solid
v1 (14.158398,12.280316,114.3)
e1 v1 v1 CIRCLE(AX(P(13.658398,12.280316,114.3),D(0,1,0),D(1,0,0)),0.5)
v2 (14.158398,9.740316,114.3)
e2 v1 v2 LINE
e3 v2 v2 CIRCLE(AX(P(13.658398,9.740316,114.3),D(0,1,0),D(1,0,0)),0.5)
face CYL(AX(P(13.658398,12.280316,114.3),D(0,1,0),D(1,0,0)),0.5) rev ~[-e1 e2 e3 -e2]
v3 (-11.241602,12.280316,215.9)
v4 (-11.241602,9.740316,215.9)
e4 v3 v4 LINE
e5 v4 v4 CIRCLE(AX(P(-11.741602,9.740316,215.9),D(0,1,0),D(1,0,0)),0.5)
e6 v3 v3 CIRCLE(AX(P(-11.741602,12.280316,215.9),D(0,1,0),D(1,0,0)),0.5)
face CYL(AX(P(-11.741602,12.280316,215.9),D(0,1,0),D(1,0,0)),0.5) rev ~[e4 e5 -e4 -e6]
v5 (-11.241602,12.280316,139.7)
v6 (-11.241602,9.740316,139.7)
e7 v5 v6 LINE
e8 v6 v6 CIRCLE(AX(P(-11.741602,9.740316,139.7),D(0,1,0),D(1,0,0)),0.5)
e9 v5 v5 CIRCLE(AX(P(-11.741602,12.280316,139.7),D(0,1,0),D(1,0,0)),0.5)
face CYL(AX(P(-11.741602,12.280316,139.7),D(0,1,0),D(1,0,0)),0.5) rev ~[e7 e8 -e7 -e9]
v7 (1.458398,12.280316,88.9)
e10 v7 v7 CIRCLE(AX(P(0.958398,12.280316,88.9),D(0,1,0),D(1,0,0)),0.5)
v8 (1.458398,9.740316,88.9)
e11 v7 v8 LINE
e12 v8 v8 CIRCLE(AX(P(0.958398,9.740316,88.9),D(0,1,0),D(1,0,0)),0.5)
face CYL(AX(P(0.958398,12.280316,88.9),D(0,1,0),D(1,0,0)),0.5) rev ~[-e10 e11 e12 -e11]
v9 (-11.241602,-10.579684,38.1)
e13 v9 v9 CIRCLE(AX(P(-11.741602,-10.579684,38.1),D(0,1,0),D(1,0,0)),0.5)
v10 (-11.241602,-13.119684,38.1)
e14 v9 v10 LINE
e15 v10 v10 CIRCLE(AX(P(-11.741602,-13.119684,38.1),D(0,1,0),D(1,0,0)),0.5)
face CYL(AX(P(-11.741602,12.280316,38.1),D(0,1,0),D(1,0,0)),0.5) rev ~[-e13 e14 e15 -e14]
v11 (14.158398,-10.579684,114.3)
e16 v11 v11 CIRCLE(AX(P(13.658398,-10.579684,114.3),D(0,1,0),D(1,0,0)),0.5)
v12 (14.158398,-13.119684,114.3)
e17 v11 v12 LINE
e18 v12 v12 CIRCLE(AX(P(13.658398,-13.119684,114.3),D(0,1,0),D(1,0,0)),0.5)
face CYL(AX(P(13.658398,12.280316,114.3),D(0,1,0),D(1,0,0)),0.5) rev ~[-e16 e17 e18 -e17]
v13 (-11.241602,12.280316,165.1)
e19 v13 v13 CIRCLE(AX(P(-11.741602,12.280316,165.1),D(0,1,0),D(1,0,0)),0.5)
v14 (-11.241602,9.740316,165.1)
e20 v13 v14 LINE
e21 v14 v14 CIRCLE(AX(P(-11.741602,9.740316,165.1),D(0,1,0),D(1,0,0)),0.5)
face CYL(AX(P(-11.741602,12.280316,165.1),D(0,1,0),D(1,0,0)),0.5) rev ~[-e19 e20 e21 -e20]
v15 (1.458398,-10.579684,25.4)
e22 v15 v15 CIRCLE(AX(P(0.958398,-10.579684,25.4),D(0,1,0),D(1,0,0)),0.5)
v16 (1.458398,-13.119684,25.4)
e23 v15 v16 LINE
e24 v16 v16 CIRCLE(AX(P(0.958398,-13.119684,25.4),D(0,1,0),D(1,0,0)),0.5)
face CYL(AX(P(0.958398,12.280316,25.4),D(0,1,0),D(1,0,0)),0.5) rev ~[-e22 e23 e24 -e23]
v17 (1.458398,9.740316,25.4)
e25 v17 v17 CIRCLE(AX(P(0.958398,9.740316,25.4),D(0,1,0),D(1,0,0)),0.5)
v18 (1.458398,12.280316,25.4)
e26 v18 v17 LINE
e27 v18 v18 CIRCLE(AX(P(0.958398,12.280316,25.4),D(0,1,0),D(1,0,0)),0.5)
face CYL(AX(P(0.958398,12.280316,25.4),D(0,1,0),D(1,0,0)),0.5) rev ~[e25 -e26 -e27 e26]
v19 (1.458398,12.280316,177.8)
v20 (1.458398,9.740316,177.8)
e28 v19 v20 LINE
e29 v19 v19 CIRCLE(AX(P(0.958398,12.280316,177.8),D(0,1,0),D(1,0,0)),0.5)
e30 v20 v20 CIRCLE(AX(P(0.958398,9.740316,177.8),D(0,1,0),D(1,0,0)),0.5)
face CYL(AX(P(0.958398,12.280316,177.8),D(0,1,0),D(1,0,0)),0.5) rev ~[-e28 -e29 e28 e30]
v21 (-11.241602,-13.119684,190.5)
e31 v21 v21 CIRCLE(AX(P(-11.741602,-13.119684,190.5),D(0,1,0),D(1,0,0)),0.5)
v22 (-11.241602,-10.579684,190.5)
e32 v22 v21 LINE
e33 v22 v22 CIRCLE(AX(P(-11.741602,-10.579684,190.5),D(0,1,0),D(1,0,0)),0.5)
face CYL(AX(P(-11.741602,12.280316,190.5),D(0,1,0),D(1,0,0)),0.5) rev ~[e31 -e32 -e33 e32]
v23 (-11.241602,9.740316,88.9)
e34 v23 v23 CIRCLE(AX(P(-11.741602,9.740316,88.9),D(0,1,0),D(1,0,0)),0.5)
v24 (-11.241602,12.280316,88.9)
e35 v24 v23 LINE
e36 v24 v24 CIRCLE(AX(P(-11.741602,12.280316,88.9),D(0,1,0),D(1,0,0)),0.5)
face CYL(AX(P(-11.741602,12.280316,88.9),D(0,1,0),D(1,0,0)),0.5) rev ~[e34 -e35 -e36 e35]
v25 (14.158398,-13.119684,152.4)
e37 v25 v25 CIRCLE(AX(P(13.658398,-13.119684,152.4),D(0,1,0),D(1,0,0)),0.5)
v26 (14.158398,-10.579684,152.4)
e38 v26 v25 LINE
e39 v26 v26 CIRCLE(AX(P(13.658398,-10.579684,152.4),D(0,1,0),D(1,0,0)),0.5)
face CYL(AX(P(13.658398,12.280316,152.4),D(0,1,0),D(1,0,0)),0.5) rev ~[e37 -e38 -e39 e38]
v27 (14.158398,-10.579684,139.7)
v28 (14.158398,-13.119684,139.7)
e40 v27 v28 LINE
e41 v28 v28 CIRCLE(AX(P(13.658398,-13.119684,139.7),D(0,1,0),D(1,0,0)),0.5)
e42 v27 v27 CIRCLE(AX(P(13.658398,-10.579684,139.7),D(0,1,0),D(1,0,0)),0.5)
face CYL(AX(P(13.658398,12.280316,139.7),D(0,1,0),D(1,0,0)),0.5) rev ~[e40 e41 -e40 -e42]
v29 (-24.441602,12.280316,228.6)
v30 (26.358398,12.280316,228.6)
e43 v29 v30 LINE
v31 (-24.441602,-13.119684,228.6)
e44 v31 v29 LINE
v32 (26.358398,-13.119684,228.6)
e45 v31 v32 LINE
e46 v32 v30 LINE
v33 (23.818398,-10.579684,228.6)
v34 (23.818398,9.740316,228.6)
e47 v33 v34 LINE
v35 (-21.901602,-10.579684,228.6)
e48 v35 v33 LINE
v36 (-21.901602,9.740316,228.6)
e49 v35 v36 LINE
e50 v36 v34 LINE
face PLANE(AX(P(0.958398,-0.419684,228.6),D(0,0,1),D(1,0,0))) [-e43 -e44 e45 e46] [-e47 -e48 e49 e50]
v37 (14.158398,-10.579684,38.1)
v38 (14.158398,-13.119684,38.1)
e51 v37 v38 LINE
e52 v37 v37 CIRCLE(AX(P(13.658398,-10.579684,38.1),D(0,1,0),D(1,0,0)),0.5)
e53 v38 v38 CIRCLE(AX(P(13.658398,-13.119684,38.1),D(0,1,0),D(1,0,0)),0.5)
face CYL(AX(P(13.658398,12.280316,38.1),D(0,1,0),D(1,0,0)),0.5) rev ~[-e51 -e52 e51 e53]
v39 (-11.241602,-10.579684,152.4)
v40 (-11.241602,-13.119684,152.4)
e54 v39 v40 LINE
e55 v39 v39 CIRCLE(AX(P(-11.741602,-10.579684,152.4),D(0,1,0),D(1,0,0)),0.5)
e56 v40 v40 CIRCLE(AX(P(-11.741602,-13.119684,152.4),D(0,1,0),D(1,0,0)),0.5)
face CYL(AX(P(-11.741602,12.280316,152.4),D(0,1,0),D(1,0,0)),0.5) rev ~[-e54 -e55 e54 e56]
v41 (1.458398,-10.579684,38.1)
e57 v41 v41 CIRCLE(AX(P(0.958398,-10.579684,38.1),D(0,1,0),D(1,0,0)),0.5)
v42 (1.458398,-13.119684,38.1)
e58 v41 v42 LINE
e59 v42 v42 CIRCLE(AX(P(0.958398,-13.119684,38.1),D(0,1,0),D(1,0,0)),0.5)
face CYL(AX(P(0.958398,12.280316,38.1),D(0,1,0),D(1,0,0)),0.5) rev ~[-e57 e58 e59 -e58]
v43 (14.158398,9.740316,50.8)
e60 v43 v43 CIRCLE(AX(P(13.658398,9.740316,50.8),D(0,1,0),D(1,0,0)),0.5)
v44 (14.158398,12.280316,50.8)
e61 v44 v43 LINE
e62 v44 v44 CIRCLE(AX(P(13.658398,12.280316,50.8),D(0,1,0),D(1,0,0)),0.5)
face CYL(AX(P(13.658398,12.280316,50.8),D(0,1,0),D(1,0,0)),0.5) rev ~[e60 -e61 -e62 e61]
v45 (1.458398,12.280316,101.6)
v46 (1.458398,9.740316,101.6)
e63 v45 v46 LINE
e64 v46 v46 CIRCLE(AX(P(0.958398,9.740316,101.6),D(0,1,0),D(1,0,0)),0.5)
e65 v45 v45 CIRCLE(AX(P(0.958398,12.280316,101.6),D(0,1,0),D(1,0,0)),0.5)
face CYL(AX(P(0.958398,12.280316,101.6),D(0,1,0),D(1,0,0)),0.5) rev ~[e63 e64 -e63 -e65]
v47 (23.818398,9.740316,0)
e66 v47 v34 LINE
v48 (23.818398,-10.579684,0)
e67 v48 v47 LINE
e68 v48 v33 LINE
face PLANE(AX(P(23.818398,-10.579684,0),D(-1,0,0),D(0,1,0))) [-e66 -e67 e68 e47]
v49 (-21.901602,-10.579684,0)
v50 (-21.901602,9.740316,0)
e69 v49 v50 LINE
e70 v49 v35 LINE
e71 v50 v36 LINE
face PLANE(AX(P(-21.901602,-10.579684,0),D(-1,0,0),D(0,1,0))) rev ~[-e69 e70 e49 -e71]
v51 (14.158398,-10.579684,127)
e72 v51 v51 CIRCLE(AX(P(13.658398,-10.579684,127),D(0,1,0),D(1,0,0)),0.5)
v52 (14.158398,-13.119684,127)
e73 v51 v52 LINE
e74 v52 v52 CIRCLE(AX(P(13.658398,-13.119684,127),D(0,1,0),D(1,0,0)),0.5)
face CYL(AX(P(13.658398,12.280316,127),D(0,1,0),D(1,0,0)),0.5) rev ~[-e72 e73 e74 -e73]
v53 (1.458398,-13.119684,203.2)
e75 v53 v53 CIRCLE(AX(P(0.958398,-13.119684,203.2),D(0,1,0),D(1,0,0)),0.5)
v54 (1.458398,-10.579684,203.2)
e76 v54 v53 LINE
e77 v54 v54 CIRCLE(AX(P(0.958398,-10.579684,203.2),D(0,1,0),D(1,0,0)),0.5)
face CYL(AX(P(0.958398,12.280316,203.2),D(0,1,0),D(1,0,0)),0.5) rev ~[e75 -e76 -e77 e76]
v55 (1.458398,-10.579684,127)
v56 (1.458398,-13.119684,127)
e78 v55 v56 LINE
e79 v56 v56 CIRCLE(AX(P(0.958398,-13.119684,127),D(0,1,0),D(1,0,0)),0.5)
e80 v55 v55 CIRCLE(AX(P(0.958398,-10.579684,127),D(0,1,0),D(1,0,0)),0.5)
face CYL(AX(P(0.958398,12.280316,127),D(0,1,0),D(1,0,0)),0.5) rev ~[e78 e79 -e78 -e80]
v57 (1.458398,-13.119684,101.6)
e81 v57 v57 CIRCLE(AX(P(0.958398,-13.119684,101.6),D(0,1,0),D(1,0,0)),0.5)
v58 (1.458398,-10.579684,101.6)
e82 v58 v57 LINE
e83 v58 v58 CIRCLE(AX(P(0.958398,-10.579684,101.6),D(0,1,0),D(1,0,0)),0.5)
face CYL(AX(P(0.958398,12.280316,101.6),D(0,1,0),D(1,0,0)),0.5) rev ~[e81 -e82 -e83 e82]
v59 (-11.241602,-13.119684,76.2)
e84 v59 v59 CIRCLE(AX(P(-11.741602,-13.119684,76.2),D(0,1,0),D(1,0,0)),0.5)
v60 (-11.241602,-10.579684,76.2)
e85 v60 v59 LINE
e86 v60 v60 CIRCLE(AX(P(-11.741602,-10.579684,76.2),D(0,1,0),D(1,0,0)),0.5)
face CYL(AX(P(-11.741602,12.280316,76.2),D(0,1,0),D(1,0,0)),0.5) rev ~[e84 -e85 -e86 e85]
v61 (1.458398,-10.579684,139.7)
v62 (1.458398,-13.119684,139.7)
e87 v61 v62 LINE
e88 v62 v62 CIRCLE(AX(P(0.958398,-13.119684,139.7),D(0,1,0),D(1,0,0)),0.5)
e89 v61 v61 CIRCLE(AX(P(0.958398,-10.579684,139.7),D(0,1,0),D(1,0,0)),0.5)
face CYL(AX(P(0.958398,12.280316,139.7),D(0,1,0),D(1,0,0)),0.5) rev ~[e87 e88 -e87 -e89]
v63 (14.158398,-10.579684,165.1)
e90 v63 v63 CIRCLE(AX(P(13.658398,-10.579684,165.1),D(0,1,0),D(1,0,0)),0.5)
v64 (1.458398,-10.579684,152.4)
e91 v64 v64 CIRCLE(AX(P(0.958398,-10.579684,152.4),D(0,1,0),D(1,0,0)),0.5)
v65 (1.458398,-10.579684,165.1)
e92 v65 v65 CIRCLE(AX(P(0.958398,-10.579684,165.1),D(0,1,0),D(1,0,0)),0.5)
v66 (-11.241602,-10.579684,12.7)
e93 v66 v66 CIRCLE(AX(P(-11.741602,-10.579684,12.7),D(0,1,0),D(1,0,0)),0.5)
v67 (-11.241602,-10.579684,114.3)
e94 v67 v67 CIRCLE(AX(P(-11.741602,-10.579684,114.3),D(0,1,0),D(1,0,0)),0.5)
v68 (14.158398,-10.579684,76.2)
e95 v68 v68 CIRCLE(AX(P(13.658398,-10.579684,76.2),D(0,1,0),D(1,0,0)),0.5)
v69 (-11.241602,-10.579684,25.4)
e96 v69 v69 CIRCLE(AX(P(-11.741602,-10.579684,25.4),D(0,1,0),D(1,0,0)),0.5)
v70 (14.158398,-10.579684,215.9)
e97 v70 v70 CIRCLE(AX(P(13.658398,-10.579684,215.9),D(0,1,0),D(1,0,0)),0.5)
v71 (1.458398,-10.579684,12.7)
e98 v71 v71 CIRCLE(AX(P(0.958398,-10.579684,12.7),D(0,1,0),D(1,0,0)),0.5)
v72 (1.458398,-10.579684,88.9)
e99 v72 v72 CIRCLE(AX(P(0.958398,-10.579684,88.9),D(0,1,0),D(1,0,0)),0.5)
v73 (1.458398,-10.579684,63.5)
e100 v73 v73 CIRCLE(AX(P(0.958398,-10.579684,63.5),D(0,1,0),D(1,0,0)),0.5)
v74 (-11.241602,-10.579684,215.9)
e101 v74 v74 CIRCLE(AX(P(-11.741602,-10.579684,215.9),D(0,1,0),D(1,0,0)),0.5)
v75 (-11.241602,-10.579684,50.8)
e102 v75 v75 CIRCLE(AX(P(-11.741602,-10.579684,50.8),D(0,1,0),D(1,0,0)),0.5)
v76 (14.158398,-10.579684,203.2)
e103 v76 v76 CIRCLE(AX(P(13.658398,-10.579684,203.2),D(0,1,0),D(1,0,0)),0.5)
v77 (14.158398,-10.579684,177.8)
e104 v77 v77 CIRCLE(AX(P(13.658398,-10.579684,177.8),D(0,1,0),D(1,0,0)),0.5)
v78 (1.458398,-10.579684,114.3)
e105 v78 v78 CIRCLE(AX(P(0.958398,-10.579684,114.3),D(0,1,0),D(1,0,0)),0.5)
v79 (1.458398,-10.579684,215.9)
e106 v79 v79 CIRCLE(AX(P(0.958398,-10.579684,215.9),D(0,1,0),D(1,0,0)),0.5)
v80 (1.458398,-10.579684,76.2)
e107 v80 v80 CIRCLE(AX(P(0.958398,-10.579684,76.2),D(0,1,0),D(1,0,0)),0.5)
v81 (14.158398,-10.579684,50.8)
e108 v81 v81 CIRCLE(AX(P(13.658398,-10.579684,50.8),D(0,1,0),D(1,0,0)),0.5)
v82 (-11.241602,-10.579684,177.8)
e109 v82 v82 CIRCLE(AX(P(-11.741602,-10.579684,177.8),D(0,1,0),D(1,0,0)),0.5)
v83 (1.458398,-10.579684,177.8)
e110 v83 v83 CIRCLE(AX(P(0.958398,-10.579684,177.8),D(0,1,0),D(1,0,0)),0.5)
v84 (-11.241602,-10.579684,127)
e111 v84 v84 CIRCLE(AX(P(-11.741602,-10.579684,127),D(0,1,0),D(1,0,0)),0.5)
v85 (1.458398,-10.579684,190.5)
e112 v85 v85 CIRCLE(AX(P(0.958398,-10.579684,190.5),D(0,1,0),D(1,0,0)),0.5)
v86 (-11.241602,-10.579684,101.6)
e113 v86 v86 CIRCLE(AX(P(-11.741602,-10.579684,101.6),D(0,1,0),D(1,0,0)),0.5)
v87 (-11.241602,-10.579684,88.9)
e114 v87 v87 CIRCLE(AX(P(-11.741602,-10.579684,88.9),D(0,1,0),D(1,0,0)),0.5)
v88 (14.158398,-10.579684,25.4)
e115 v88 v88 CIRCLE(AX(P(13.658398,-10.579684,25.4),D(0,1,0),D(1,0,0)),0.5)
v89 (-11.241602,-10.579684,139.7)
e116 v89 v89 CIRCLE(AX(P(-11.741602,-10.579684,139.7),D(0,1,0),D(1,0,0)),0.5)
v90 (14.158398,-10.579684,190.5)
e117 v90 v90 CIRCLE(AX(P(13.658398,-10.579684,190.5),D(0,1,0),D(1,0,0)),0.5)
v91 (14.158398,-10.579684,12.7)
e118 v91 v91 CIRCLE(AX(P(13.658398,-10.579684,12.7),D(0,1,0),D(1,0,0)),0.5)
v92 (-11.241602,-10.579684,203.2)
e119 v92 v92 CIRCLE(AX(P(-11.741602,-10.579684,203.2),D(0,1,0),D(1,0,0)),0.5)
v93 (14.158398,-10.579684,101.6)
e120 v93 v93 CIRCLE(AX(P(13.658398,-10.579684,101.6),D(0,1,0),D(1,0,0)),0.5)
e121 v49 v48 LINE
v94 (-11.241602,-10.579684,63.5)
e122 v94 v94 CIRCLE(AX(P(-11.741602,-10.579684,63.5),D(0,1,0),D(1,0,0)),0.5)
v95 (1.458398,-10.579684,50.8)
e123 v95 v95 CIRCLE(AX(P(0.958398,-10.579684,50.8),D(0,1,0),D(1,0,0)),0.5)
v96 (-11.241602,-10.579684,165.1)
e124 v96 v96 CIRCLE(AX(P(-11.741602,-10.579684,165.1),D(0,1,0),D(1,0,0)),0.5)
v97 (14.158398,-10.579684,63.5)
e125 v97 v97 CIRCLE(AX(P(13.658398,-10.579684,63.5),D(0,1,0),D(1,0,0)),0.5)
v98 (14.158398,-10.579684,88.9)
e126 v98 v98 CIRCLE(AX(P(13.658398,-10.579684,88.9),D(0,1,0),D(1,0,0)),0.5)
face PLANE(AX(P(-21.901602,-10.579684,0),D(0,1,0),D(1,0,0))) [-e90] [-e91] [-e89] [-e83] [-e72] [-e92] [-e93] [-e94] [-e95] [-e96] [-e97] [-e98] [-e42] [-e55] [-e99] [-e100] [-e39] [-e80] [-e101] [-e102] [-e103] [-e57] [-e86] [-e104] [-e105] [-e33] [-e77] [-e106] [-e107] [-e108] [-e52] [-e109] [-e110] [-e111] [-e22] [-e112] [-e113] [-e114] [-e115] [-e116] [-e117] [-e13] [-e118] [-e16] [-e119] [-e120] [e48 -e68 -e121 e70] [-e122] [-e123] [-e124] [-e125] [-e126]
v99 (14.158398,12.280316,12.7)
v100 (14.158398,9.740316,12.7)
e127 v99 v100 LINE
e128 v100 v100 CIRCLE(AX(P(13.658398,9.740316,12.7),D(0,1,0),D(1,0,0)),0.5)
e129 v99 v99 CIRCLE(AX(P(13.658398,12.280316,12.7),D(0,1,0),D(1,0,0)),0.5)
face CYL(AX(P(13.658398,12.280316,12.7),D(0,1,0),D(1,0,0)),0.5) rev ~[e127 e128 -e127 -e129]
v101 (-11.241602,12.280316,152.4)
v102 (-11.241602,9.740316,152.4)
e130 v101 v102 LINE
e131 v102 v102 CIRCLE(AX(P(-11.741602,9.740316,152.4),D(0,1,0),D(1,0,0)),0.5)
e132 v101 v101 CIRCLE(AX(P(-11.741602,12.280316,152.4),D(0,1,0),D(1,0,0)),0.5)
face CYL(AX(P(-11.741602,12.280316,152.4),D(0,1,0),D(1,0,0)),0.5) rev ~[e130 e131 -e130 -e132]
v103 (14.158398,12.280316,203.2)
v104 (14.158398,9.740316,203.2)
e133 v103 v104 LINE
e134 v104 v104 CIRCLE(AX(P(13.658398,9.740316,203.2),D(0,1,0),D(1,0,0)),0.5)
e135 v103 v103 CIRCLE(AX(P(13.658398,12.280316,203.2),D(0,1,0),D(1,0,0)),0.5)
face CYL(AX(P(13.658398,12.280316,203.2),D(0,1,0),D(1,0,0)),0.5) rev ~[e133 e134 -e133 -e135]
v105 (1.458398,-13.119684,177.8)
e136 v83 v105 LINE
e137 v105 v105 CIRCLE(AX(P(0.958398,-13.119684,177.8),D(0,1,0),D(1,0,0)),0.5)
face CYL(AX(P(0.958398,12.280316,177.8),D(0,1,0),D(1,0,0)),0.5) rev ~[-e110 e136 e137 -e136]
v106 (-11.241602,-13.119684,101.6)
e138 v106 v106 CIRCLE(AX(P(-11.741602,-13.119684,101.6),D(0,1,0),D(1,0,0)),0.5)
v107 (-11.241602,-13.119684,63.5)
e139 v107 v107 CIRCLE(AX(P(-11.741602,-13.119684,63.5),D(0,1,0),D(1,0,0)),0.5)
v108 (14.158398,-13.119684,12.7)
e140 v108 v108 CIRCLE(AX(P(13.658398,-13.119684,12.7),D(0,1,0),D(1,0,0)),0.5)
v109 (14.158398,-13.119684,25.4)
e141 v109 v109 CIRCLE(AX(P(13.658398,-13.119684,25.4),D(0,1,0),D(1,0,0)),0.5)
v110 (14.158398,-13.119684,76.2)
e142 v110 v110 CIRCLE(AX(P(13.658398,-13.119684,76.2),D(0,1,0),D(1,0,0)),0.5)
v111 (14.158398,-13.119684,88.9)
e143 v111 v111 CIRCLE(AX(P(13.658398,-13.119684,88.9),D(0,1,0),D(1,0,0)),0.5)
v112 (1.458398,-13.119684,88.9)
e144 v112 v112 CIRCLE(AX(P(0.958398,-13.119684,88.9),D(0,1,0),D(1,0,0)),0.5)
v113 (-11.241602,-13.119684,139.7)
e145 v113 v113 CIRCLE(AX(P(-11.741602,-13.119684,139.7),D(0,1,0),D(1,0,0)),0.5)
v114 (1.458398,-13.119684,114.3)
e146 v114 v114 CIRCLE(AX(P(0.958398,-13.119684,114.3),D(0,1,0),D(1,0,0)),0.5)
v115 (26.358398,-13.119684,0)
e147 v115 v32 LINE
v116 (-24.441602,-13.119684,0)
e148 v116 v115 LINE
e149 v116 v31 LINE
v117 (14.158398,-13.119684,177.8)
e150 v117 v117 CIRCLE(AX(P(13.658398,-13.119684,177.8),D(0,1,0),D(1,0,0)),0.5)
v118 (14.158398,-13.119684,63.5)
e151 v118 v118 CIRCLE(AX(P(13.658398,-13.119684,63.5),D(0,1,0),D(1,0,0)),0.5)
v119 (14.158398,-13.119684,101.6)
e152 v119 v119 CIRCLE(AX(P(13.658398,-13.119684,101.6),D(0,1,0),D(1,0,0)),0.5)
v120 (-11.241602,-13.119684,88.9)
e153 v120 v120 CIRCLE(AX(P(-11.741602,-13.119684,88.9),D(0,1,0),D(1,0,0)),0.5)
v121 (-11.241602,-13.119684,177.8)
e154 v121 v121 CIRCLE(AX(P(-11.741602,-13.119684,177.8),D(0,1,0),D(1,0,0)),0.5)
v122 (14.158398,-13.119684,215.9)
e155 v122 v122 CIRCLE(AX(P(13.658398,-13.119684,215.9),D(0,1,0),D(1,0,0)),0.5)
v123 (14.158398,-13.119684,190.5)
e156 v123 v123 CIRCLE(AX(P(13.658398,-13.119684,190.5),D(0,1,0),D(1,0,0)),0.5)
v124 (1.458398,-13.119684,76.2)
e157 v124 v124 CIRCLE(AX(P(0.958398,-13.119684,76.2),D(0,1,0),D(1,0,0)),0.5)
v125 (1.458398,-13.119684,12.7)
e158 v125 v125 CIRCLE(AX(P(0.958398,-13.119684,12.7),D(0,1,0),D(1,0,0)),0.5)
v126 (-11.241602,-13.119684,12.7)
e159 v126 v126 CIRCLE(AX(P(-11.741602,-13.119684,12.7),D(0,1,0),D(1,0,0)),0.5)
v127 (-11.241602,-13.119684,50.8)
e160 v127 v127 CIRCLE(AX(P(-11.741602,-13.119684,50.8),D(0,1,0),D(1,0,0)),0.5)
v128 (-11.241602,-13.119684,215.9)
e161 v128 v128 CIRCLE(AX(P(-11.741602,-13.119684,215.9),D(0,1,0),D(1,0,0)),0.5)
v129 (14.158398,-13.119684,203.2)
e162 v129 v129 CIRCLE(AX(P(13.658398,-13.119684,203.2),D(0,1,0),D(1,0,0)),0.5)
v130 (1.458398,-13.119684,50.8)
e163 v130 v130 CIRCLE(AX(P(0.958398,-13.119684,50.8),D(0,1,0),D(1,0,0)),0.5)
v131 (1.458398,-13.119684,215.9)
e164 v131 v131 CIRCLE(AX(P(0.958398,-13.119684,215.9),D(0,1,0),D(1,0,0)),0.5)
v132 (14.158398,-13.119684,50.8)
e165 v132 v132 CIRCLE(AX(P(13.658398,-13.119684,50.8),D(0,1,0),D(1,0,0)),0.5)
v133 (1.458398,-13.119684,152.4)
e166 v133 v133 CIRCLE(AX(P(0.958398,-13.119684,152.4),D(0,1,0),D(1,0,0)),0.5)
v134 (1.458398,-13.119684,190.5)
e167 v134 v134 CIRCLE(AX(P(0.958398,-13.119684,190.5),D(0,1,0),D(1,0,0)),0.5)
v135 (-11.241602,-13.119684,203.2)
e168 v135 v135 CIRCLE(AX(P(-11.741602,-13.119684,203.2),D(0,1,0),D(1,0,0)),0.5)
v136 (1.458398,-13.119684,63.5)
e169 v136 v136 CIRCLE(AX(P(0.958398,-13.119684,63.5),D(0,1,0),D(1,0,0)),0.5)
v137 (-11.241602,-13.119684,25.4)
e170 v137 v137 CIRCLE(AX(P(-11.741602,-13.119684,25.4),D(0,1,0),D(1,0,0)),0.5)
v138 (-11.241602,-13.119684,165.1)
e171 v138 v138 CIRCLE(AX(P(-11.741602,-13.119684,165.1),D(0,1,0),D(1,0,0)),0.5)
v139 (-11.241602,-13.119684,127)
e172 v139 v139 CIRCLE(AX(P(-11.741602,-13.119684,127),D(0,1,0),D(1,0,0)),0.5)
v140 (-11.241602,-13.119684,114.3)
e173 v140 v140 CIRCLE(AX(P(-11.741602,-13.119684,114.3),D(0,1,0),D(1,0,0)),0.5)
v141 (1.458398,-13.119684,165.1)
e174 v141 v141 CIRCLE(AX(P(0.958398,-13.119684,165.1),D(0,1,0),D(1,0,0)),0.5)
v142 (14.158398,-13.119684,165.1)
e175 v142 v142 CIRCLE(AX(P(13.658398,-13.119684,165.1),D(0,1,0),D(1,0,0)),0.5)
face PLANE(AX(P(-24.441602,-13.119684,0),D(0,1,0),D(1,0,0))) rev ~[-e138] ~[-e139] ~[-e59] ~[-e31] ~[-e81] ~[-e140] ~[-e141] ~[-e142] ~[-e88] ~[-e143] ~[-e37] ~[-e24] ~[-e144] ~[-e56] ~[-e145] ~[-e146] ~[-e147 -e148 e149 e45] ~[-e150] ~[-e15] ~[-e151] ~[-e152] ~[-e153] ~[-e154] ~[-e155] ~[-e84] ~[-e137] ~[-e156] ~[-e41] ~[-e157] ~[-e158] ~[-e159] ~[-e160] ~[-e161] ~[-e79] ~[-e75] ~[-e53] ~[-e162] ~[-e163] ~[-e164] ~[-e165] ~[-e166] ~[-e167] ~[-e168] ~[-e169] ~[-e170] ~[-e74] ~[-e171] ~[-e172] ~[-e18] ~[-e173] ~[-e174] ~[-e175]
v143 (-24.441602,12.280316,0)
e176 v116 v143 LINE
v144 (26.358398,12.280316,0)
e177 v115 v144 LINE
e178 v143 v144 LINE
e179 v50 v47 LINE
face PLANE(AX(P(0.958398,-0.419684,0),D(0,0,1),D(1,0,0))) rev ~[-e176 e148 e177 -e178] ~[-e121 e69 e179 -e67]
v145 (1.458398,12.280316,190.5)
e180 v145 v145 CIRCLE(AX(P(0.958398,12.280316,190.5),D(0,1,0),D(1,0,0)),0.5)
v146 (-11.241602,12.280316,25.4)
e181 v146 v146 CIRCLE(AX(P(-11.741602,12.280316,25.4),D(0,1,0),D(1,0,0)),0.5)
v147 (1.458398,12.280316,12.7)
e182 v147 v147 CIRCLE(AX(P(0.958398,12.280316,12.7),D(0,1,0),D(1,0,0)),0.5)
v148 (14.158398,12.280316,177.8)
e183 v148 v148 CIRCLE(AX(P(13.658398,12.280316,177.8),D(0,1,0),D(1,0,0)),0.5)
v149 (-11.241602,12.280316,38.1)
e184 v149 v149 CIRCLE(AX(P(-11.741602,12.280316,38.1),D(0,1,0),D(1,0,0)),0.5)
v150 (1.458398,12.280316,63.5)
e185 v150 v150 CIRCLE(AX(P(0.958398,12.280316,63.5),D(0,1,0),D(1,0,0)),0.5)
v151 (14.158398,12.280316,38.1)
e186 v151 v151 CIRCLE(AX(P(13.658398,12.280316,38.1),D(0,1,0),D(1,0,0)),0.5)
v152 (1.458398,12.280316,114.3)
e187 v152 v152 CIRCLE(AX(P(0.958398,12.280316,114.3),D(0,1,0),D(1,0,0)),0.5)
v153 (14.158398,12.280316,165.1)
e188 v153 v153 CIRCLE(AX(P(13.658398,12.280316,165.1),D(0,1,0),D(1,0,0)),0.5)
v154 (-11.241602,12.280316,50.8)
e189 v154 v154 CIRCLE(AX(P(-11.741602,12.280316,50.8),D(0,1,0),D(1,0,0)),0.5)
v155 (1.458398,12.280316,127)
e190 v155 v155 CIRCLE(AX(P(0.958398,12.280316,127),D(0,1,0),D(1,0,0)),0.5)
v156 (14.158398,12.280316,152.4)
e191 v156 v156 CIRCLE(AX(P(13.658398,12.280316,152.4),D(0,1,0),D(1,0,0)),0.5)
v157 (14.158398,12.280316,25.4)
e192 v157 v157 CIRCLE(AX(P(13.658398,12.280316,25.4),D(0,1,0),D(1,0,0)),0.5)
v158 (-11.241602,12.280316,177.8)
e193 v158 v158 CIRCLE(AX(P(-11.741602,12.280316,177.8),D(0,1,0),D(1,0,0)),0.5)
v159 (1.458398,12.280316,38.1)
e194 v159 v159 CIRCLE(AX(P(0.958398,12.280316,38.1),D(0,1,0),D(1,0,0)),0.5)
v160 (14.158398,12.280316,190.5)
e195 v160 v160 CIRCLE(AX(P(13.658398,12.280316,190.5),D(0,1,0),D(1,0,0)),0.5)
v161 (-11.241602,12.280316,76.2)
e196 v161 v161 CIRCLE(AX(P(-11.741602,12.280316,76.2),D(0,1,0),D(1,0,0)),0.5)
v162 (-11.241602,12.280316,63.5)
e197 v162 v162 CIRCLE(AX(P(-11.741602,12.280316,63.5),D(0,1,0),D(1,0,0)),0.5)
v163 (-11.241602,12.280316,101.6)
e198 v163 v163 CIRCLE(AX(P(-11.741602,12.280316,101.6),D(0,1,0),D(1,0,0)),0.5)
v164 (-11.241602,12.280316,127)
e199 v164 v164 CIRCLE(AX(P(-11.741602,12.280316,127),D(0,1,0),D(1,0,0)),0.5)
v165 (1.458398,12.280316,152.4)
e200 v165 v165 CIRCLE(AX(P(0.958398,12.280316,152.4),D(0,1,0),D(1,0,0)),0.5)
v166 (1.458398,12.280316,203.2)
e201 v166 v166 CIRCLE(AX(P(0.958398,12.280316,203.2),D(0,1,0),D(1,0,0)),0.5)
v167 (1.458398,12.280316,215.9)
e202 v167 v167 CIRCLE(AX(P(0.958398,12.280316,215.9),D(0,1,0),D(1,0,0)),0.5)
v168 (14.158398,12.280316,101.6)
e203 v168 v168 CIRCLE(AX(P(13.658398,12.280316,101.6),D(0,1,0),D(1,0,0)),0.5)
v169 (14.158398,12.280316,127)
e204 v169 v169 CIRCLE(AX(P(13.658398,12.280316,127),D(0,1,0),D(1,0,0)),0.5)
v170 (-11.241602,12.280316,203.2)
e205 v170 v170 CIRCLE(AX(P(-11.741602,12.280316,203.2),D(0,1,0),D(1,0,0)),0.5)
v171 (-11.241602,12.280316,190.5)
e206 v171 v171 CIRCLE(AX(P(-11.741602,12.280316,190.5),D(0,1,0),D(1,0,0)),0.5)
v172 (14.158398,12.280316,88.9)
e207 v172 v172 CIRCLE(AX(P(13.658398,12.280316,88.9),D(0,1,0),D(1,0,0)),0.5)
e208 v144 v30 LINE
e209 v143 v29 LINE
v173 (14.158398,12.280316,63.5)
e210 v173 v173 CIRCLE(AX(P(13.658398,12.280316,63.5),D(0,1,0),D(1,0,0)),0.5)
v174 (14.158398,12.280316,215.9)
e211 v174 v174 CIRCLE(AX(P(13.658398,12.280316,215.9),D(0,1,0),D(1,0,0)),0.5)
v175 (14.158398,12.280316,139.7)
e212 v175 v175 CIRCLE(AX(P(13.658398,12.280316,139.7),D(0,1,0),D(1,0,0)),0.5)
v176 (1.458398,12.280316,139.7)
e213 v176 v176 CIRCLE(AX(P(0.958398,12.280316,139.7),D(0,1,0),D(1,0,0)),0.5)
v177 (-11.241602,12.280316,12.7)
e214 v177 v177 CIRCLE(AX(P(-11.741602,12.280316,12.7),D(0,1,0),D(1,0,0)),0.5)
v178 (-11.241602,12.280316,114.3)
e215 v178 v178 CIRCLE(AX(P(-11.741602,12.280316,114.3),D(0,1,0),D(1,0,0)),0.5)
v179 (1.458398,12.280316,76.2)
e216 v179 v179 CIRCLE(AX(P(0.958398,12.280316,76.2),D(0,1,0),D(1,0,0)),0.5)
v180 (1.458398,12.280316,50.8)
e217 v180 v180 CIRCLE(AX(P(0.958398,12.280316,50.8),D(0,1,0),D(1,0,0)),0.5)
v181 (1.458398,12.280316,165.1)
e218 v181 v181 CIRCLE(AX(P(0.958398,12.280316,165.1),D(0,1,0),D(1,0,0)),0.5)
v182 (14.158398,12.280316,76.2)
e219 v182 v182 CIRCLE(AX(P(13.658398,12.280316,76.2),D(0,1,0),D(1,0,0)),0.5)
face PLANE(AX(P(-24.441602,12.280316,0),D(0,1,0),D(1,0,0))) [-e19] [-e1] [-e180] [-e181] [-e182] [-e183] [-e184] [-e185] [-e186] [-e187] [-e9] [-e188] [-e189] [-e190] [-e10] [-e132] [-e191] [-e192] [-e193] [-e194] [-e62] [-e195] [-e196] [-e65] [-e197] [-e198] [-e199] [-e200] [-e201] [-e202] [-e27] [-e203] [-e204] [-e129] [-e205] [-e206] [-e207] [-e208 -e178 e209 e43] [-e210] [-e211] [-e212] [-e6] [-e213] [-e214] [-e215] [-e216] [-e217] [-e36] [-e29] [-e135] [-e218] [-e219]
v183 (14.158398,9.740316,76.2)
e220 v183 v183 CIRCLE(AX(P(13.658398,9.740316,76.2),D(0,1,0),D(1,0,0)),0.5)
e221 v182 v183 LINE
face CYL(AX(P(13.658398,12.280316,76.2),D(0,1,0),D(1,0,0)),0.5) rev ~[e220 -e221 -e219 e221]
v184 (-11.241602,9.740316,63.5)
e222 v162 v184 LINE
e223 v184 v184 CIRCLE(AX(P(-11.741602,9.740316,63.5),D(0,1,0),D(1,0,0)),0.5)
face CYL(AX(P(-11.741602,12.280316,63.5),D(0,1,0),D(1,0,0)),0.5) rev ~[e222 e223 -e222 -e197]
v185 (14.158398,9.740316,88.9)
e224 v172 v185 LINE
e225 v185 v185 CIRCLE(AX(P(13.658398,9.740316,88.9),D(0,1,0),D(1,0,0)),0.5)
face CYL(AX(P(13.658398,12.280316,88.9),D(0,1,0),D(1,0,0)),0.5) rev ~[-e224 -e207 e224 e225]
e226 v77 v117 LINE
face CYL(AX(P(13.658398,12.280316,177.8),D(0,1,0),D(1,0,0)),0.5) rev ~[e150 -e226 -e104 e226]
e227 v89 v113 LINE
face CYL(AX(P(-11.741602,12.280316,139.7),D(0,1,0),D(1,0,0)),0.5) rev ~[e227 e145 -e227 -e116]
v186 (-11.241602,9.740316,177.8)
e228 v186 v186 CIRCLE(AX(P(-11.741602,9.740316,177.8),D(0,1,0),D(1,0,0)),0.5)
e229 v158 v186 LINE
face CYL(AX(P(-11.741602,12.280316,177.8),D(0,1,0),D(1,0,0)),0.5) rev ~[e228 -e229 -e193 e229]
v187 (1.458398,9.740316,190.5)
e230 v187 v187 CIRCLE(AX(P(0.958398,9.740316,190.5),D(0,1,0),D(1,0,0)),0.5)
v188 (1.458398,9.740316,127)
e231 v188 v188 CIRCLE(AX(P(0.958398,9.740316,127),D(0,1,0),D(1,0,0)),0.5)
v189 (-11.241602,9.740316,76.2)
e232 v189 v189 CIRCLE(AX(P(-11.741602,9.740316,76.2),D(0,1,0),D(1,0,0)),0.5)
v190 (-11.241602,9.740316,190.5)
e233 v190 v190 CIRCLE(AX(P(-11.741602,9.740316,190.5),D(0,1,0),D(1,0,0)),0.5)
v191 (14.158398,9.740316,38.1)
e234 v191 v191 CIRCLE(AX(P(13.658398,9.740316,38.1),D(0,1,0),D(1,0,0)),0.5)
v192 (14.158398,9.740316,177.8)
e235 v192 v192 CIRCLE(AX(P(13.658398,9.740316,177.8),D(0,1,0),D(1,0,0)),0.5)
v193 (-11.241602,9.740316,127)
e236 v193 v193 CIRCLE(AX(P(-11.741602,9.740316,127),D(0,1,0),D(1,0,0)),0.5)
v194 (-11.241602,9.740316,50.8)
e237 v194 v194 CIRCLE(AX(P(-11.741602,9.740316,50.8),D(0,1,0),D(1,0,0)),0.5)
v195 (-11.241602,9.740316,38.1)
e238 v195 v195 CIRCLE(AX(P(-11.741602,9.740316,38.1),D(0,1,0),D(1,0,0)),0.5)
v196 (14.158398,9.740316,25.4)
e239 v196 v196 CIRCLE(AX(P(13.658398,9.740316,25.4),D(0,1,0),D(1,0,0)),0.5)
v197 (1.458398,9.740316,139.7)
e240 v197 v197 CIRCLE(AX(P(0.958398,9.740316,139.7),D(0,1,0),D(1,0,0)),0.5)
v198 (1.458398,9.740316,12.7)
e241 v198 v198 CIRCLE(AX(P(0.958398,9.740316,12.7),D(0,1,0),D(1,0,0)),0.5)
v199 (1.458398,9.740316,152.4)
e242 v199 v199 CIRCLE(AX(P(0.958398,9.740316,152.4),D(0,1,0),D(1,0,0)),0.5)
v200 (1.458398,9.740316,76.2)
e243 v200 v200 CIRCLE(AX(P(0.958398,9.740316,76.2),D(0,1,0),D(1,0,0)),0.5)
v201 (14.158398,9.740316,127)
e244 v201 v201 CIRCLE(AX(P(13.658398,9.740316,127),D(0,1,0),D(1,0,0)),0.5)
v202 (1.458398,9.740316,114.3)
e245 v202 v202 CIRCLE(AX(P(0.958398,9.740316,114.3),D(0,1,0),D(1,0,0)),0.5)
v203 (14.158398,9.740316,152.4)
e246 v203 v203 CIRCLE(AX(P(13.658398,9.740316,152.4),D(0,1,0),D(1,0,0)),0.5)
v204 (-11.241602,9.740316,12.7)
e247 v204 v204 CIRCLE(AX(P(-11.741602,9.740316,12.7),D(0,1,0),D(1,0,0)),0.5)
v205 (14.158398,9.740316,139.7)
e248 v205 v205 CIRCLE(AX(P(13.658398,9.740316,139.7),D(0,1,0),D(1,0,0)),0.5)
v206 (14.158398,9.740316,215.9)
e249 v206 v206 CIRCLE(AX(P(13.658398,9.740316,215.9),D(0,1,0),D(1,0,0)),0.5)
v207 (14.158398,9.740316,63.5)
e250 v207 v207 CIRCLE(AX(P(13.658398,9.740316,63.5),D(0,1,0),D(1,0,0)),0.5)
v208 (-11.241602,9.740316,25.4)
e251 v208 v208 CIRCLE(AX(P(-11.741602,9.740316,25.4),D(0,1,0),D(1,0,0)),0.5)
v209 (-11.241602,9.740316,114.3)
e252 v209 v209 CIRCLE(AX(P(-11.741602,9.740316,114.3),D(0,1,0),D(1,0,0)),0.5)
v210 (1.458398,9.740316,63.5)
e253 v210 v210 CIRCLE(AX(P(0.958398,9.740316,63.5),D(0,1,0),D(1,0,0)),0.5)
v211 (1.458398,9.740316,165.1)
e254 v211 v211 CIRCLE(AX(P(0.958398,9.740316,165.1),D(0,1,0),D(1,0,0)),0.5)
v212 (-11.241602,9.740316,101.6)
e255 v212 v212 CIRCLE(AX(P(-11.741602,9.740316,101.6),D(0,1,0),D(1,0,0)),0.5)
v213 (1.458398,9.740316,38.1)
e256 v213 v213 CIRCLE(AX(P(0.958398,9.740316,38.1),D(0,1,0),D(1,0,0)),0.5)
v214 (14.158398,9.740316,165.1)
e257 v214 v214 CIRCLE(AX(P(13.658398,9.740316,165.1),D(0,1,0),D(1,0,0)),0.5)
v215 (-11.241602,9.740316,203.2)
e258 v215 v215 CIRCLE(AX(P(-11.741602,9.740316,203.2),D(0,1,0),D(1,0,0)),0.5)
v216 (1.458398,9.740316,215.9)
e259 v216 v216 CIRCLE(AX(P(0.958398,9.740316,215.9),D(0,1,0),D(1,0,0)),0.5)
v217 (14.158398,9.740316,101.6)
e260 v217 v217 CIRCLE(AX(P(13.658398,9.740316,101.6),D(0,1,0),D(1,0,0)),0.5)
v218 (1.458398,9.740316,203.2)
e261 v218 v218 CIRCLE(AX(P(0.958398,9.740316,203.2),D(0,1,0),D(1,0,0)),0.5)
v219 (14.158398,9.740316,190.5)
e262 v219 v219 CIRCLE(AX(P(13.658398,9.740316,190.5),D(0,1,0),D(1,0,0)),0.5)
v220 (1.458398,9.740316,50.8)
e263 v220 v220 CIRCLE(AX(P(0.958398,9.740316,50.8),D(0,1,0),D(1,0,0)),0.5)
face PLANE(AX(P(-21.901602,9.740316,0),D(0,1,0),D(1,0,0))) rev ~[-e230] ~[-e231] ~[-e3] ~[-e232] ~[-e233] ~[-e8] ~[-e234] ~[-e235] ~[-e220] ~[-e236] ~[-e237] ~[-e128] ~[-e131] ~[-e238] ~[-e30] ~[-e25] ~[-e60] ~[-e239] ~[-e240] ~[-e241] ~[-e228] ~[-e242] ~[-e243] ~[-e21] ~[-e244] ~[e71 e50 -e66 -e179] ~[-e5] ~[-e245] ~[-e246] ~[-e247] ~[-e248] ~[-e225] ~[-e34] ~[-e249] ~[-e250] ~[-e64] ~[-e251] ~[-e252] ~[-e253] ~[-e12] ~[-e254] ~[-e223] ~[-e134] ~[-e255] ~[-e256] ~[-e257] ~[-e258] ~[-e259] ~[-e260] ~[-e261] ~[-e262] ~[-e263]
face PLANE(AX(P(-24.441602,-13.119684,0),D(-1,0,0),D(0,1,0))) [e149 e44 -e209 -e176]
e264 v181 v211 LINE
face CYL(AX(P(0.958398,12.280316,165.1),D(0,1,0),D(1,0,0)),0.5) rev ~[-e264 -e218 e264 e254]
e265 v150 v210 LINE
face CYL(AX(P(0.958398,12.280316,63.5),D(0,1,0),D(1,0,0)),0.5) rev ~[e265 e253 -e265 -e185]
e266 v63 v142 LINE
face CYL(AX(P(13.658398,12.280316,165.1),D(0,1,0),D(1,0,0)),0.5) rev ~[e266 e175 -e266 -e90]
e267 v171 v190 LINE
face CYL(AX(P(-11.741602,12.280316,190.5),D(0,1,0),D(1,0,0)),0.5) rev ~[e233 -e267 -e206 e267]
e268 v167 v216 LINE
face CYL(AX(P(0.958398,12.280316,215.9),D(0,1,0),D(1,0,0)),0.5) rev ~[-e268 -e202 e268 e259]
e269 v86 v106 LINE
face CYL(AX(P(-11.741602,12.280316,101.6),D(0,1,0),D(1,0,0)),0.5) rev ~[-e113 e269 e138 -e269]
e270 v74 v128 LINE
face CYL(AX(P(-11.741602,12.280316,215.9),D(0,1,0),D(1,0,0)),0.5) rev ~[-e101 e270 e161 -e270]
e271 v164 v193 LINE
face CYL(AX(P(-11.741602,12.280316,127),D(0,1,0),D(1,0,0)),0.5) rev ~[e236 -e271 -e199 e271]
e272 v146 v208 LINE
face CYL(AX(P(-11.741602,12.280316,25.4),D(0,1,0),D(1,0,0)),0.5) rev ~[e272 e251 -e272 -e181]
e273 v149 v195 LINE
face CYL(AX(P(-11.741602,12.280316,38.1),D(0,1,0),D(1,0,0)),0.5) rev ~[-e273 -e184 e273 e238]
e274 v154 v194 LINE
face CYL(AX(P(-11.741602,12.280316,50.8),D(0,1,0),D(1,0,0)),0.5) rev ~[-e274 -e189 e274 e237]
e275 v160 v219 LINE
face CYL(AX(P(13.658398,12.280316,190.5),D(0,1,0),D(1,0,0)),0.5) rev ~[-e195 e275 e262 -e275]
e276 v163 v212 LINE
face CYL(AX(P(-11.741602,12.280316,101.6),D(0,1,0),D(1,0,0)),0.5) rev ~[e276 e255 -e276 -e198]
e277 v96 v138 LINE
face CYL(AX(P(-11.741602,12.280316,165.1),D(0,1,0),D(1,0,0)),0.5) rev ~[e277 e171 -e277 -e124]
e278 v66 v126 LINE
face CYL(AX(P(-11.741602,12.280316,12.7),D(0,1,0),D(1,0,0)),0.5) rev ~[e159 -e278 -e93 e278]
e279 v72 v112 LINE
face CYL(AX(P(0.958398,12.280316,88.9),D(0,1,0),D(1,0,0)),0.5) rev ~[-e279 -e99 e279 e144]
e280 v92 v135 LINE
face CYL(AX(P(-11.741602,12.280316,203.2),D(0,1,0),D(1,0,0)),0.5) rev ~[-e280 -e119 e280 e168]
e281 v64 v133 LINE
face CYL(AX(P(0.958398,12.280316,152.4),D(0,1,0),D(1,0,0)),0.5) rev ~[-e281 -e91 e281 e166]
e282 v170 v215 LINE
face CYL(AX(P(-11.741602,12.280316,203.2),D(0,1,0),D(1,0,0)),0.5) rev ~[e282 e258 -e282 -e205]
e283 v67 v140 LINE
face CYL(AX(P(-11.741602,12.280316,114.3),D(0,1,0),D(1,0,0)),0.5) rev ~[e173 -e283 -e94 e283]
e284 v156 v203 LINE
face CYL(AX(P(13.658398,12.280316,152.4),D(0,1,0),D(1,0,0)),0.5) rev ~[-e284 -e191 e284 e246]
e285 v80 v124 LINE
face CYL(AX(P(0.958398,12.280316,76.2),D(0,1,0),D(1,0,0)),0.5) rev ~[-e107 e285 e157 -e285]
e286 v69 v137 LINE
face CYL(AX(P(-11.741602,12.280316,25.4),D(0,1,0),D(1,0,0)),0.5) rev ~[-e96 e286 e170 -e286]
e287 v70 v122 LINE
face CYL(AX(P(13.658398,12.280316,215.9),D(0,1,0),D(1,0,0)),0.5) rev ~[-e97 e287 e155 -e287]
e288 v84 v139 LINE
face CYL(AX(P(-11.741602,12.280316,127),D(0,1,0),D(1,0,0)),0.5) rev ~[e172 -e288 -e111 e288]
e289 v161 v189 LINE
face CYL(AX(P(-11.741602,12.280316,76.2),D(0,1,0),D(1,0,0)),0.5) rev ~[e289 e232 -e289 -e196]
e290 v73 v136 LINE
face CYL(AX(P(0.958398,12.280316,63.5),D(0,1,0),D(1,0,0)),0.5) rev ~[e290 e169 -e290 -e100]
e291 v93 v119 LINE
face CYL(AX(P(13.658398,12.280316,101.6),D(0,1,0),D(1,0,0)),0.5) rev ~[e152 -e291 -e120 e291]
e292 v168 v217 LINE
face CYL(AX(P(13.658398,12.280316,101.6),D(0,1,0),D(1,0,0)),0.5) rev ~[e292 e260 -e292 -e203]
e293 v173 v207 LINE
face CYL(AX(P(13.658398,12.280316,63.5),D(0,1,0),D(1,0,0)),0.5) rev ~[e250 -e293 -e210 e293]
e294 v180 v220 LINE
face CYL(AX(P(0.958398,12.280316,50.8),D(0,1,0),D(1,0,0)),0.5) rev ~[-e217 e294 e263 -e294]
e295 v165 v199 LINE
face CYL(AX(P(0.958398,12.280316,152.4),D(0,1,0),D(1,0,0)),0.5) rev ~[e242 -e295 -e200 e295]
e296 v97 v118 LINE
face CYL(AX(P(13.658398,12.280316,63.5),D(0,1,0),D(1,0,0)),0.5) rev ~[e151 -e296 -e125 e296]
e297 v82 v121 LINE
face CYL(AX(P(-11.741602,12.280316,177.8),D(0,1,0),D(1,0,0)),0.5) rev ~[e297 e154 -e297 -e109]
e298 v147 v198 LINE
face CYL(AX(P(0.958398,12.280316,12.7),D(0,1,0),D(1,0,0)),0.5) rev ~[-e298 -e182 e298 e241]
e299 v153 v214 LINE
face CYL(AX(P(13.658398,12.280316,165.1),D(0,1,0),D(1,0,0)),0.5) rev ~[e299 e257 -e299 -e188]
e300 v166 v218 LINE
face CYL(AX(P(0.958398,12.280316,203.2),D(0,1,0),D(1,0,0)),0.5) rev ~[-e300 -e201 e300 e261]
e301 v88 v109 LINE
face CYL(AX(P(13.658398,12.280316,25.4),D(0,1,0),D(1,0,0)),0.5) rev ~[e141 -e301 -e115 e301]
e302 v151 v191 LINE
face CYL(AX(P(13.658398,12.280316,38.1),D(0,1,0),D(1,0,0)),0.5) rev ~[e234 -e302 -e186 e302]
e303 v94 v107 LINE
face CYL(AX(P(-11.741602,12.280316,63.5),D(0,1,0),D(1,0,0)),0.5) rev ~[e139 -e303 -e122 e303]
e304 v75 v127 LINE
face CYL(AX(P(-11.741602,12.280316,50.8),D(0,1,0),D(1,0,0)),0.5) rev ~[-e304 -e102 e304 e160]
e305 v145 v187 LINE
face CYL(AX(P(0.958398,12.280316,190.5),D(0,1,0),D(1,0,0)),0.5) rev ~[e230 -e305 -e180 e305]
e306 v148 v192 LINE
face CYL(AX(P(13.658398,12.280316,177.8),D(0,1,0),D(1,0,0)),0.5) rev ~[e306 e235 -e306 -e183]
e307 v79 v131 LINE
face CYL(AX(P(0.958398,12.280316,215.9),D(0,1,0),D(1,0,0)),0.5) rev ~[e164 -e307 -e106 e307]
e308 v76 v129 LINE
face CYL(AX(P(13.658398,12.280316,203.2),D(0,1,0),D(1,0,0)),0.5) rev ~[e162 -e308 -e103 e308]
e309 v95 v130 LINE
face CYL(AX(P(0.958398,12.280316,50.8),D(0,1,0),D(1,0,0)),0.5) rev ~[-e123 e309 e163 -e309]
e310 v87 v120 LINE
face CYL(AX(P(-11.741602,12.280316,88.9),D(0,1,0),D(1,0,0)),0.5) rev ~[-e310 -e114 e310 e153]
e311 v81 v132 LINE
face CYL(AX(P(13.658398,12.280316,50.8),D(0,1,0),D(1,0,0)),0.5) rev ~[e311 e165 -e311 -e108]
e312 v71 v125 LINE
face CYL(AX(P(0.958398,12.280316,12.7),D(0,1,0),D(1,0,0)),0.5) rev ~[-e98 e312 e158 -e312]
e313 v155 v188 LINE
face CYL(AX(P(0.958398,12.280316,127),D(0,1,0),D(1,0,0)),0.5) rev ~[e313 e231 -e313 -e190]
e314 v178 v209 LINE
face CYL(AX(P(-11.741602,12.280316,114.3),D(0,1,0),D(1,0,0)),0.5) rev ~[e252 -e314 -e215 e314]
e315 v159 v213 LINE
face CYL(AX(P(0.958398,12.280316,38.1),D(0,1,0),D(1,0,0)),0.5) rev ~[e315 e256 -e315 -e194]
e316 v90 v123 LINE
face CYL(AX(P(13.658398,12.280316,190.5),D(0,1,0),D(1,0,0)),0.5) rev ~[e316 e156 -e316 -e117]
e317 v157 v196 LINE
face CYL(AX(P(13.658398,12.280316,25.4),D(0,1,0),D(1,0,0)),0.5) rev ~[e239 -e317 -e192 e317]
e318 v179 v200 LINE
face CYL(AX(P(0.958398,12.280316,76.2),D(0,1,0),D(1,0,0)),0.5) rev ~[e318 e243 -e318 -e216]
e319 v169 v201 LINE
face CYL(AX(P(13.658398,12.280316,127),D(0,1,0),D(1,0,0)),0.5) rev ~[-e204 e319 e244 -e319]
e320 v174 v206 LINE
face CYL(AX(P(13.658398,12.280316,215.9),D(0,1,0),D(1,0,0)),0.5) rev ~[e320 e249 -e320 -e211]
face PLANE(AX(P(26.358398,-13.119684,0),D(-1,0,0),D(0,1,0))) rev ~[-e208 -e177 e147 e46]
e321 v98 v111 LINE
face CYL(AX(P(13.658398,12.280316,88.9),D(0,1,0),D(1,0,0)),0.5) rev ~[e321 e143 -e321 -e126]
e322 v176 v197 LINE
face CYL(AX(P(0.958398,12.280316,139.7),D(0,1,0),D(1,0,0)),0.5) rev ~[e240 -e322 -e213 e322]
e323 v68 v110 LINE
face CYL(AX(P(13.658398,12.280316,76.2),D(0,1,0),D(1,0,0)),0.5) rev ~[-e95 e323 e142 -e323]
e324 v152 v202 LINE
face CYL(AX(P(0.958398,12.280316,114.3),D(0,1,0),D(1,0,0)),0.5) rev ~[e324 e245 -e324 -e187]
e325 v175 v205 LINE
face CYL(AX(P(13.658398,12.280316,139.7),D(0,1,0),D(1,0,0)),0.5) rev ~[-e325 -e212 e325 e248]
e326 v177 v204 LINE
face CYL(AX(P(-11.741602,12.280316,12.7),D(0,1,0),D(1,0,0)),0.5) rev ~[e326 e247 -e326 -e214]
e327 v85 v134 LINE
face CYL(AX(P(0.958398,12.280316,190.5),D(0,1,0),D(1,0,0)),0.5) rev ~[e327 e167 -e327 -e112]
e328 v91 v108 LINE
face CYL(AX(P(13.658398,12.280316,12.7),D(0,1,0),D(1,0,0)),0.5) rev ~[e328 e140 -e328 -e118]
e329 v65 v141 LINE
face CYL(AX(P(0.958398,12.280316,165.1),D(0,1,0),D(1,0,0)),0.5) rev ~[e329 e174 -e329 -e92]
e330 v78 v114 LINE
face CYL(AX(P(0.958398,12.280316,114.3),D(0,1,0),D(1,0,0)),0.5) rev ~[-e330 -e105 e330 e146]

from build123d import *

# Parameters (mm, degrees)
SKETCH1_W               = 50.8
SKETCH1_H               = 25.4
SKETCH1_W_2             = 45.72
SKETCH1_H_2             = 20.32
BOSS_EXTRUDE1_DEPTH     = 228.6
SKETCH2_R               = 0.5
CUT_EXTRUDE1_DEPTH      = 1
CUT_EXTRUDE1_DEPTH_BACK = 26.4


with BuildPart() as part:
    # Sketch1 → Boss-Extrude1 (new body)
    with BuildSketch(Plane.XY):
        with Locations((0.958397508, -0.419684268)):
            Rectangle(SKETCH1_W, SKETCH1_H)
        with Locations((0.958397508, -0.419684268)):
            Rectangle(SKETCH1_W_2, SKETCH1_H_2, mode=Mode.SUBTRACT)
    extrude(amount=BOSS_EXTRUDE1_DEPTH)

    # Sketch2 → Cut-Extrude1 (cut, two sides)
    with BuildSketch(Plane(origin=(0, 12.280315732, 0), x_dir=(1, 0, 0), z_dir=(0, 1, 0))) as cut_extrude1_sk:
        with Locations((-11.741602492, -215.9)):
            Circle(SKETCH2_R)
        with Locations((0.958397508, -215.9)):
            Circle(SKETCH2_R)
        with Locations((13.658397508, -215.9)):
            Circle(SKETCH2_R)
        with Locations((0.958397508, -203.2)):
            Circle(SKETCH2_R)
        with Locations((13.658397508, -203.2)):
            Circle(SKETCH2_R)
        with Locations((0.958397508, -190.5)):
            Circle(SKETCH2_R)
        with Locations((13.658397508, -190.5)):
            Circle(SKETCH2_R)
        with Locations((0.958397508, -177.8)):
            Circle(SKETCH2_R)
        with Locations((13.658397508, -177.8)):
            Circle(SKETCH2_R)
        with Locations((0.958397508, -165.1)):
            Circle(SKETCH2_R)
        with Locations((13.658397508, -165.1)):
            Circle(SKETCH2_R)
        with Locations((0.958397508, -152.4)):
            Circle(SKETCH2_R)
        with Locations((13.658397508, -152.4)):
            Circle(SKETCH2_R)
        with Locations((0.958397508, -139.7)):
            Circle(SKETCH2_R)
        with Locations((13.658397508, -139.7)):
            Circle(SKETCH2_R)
        with Locations((0.958397508, -127)):
            Circle(SKETCH2_R)
        with Locations((13.658397508, -127)):
            Circle(SKETCH2_R)
        with Locations((0.958397508, -114.3)):
            Circle(SKETCH2_R)
        with Locations((13.658397508, -114.3)):
            Circle(SKETCH2_R)
        with Locations((0.958397508, -101.6)):
            Circle(SKETCH2_R)
        with Locations((13.658397508, -101.6)):
            Circle(SKETCH2_R)
        with Locations((0.958397508, -88.9)):
            Circle(SKETCH2_R)
        with Locations((13.658397508, -88.9)):
            Circle(SKETCH2_R)
        with Locations((0.958397508, -76.2)):
            Circle(SKETCH2_R)
        with Locations((13.658397508, -76.2)):
            Circle(SKETCH2_R)
        with Locations((0.958397508, -63.5)):
            Circle(SKETCH2_R)
        with Locations((13.658397508, -63.5)):
            Circle(SKETCH2_R)
        with Locations((0.958397508, -50.8)):
            Circle(SKETCH2_R)
        with Locations((13.658397508, -50.8)):
            Circle(SKETCH2_R)
        with Locations((0.958397508, -38.1)):
            Circle(SKETCH2_R)
        with Locations((13.658397508, -38.1)):
            Circle(SKETCH2_R)
        with Locations((0.958397508, -25.4)):
            Circle(SKETCH2_R)
        with Locations((13.658397508, -25.4)):
            Circle(SKETCH2_R)
        with Locations((0.958397508, -12.7)):
            Circle(SKETCH2_R)
        with Locations((13.658397508, -12.7)):
            Circle(SKETCH2_R)
        with Locations((-11.741602492, -203.2)):
            Circle(SKETCH2_R)
        with Locations((-11.741602492, -190.5)):
            Circle(SKETCH2_R)
        with Locations((-11.741602492, -177.8)):
            Circle(SKETCH2_R)
        with Locations((-11.741602492, -165.1)):
            Circle(SKETCH2_R)
        with Locations((-11.741602492, -152.4)):
            Circle(SKETCH2_R)
        with Locations((-11.741602492, -139.7)):
            Circle(SKETCH2_R)
        with Locations((-11.741602492, -127)):
            Circle(SKETCH2_R)
        with Locations((-11.741602492, -114.3)):
            Circle(SKETCH2_R)
        with Locations((-11.741602492, -101.6)):
            Circle(SKETCH2_R)
        with Locations((-11.741602492, -88.9)):
            Circle(SKETCH2_R)
        with Locations((-11.741602492, -76.2)):
            Circle(SKETCH2_R)
        with Locations((-11.741602492, -63.5)):
            Circle(SKETCH2_R)
        with Locations((-11.741602492, -50.8)):
            Circle(SKETCH2_R)
        with Locations((-11.741602492, -38.1)):
            Circle(SKETCH2_R)
        with Locations((-11.741602492, -25.4)):
            Circle(SKETCH2_R)
        with Locations((-11.741602492, -12.7)):
            Circle(SKETCH2_R)
    extrude(amount=CUT_EXTRUDE1_DEPTH, mode=Mode.SUBTRACT)
    extrude(cut_extrude1_sk.sketch, amount=-CUT_EXTRUDE1_DEPTH_BACK, mode=Mode.SUBTRACT)


solid = part.part
